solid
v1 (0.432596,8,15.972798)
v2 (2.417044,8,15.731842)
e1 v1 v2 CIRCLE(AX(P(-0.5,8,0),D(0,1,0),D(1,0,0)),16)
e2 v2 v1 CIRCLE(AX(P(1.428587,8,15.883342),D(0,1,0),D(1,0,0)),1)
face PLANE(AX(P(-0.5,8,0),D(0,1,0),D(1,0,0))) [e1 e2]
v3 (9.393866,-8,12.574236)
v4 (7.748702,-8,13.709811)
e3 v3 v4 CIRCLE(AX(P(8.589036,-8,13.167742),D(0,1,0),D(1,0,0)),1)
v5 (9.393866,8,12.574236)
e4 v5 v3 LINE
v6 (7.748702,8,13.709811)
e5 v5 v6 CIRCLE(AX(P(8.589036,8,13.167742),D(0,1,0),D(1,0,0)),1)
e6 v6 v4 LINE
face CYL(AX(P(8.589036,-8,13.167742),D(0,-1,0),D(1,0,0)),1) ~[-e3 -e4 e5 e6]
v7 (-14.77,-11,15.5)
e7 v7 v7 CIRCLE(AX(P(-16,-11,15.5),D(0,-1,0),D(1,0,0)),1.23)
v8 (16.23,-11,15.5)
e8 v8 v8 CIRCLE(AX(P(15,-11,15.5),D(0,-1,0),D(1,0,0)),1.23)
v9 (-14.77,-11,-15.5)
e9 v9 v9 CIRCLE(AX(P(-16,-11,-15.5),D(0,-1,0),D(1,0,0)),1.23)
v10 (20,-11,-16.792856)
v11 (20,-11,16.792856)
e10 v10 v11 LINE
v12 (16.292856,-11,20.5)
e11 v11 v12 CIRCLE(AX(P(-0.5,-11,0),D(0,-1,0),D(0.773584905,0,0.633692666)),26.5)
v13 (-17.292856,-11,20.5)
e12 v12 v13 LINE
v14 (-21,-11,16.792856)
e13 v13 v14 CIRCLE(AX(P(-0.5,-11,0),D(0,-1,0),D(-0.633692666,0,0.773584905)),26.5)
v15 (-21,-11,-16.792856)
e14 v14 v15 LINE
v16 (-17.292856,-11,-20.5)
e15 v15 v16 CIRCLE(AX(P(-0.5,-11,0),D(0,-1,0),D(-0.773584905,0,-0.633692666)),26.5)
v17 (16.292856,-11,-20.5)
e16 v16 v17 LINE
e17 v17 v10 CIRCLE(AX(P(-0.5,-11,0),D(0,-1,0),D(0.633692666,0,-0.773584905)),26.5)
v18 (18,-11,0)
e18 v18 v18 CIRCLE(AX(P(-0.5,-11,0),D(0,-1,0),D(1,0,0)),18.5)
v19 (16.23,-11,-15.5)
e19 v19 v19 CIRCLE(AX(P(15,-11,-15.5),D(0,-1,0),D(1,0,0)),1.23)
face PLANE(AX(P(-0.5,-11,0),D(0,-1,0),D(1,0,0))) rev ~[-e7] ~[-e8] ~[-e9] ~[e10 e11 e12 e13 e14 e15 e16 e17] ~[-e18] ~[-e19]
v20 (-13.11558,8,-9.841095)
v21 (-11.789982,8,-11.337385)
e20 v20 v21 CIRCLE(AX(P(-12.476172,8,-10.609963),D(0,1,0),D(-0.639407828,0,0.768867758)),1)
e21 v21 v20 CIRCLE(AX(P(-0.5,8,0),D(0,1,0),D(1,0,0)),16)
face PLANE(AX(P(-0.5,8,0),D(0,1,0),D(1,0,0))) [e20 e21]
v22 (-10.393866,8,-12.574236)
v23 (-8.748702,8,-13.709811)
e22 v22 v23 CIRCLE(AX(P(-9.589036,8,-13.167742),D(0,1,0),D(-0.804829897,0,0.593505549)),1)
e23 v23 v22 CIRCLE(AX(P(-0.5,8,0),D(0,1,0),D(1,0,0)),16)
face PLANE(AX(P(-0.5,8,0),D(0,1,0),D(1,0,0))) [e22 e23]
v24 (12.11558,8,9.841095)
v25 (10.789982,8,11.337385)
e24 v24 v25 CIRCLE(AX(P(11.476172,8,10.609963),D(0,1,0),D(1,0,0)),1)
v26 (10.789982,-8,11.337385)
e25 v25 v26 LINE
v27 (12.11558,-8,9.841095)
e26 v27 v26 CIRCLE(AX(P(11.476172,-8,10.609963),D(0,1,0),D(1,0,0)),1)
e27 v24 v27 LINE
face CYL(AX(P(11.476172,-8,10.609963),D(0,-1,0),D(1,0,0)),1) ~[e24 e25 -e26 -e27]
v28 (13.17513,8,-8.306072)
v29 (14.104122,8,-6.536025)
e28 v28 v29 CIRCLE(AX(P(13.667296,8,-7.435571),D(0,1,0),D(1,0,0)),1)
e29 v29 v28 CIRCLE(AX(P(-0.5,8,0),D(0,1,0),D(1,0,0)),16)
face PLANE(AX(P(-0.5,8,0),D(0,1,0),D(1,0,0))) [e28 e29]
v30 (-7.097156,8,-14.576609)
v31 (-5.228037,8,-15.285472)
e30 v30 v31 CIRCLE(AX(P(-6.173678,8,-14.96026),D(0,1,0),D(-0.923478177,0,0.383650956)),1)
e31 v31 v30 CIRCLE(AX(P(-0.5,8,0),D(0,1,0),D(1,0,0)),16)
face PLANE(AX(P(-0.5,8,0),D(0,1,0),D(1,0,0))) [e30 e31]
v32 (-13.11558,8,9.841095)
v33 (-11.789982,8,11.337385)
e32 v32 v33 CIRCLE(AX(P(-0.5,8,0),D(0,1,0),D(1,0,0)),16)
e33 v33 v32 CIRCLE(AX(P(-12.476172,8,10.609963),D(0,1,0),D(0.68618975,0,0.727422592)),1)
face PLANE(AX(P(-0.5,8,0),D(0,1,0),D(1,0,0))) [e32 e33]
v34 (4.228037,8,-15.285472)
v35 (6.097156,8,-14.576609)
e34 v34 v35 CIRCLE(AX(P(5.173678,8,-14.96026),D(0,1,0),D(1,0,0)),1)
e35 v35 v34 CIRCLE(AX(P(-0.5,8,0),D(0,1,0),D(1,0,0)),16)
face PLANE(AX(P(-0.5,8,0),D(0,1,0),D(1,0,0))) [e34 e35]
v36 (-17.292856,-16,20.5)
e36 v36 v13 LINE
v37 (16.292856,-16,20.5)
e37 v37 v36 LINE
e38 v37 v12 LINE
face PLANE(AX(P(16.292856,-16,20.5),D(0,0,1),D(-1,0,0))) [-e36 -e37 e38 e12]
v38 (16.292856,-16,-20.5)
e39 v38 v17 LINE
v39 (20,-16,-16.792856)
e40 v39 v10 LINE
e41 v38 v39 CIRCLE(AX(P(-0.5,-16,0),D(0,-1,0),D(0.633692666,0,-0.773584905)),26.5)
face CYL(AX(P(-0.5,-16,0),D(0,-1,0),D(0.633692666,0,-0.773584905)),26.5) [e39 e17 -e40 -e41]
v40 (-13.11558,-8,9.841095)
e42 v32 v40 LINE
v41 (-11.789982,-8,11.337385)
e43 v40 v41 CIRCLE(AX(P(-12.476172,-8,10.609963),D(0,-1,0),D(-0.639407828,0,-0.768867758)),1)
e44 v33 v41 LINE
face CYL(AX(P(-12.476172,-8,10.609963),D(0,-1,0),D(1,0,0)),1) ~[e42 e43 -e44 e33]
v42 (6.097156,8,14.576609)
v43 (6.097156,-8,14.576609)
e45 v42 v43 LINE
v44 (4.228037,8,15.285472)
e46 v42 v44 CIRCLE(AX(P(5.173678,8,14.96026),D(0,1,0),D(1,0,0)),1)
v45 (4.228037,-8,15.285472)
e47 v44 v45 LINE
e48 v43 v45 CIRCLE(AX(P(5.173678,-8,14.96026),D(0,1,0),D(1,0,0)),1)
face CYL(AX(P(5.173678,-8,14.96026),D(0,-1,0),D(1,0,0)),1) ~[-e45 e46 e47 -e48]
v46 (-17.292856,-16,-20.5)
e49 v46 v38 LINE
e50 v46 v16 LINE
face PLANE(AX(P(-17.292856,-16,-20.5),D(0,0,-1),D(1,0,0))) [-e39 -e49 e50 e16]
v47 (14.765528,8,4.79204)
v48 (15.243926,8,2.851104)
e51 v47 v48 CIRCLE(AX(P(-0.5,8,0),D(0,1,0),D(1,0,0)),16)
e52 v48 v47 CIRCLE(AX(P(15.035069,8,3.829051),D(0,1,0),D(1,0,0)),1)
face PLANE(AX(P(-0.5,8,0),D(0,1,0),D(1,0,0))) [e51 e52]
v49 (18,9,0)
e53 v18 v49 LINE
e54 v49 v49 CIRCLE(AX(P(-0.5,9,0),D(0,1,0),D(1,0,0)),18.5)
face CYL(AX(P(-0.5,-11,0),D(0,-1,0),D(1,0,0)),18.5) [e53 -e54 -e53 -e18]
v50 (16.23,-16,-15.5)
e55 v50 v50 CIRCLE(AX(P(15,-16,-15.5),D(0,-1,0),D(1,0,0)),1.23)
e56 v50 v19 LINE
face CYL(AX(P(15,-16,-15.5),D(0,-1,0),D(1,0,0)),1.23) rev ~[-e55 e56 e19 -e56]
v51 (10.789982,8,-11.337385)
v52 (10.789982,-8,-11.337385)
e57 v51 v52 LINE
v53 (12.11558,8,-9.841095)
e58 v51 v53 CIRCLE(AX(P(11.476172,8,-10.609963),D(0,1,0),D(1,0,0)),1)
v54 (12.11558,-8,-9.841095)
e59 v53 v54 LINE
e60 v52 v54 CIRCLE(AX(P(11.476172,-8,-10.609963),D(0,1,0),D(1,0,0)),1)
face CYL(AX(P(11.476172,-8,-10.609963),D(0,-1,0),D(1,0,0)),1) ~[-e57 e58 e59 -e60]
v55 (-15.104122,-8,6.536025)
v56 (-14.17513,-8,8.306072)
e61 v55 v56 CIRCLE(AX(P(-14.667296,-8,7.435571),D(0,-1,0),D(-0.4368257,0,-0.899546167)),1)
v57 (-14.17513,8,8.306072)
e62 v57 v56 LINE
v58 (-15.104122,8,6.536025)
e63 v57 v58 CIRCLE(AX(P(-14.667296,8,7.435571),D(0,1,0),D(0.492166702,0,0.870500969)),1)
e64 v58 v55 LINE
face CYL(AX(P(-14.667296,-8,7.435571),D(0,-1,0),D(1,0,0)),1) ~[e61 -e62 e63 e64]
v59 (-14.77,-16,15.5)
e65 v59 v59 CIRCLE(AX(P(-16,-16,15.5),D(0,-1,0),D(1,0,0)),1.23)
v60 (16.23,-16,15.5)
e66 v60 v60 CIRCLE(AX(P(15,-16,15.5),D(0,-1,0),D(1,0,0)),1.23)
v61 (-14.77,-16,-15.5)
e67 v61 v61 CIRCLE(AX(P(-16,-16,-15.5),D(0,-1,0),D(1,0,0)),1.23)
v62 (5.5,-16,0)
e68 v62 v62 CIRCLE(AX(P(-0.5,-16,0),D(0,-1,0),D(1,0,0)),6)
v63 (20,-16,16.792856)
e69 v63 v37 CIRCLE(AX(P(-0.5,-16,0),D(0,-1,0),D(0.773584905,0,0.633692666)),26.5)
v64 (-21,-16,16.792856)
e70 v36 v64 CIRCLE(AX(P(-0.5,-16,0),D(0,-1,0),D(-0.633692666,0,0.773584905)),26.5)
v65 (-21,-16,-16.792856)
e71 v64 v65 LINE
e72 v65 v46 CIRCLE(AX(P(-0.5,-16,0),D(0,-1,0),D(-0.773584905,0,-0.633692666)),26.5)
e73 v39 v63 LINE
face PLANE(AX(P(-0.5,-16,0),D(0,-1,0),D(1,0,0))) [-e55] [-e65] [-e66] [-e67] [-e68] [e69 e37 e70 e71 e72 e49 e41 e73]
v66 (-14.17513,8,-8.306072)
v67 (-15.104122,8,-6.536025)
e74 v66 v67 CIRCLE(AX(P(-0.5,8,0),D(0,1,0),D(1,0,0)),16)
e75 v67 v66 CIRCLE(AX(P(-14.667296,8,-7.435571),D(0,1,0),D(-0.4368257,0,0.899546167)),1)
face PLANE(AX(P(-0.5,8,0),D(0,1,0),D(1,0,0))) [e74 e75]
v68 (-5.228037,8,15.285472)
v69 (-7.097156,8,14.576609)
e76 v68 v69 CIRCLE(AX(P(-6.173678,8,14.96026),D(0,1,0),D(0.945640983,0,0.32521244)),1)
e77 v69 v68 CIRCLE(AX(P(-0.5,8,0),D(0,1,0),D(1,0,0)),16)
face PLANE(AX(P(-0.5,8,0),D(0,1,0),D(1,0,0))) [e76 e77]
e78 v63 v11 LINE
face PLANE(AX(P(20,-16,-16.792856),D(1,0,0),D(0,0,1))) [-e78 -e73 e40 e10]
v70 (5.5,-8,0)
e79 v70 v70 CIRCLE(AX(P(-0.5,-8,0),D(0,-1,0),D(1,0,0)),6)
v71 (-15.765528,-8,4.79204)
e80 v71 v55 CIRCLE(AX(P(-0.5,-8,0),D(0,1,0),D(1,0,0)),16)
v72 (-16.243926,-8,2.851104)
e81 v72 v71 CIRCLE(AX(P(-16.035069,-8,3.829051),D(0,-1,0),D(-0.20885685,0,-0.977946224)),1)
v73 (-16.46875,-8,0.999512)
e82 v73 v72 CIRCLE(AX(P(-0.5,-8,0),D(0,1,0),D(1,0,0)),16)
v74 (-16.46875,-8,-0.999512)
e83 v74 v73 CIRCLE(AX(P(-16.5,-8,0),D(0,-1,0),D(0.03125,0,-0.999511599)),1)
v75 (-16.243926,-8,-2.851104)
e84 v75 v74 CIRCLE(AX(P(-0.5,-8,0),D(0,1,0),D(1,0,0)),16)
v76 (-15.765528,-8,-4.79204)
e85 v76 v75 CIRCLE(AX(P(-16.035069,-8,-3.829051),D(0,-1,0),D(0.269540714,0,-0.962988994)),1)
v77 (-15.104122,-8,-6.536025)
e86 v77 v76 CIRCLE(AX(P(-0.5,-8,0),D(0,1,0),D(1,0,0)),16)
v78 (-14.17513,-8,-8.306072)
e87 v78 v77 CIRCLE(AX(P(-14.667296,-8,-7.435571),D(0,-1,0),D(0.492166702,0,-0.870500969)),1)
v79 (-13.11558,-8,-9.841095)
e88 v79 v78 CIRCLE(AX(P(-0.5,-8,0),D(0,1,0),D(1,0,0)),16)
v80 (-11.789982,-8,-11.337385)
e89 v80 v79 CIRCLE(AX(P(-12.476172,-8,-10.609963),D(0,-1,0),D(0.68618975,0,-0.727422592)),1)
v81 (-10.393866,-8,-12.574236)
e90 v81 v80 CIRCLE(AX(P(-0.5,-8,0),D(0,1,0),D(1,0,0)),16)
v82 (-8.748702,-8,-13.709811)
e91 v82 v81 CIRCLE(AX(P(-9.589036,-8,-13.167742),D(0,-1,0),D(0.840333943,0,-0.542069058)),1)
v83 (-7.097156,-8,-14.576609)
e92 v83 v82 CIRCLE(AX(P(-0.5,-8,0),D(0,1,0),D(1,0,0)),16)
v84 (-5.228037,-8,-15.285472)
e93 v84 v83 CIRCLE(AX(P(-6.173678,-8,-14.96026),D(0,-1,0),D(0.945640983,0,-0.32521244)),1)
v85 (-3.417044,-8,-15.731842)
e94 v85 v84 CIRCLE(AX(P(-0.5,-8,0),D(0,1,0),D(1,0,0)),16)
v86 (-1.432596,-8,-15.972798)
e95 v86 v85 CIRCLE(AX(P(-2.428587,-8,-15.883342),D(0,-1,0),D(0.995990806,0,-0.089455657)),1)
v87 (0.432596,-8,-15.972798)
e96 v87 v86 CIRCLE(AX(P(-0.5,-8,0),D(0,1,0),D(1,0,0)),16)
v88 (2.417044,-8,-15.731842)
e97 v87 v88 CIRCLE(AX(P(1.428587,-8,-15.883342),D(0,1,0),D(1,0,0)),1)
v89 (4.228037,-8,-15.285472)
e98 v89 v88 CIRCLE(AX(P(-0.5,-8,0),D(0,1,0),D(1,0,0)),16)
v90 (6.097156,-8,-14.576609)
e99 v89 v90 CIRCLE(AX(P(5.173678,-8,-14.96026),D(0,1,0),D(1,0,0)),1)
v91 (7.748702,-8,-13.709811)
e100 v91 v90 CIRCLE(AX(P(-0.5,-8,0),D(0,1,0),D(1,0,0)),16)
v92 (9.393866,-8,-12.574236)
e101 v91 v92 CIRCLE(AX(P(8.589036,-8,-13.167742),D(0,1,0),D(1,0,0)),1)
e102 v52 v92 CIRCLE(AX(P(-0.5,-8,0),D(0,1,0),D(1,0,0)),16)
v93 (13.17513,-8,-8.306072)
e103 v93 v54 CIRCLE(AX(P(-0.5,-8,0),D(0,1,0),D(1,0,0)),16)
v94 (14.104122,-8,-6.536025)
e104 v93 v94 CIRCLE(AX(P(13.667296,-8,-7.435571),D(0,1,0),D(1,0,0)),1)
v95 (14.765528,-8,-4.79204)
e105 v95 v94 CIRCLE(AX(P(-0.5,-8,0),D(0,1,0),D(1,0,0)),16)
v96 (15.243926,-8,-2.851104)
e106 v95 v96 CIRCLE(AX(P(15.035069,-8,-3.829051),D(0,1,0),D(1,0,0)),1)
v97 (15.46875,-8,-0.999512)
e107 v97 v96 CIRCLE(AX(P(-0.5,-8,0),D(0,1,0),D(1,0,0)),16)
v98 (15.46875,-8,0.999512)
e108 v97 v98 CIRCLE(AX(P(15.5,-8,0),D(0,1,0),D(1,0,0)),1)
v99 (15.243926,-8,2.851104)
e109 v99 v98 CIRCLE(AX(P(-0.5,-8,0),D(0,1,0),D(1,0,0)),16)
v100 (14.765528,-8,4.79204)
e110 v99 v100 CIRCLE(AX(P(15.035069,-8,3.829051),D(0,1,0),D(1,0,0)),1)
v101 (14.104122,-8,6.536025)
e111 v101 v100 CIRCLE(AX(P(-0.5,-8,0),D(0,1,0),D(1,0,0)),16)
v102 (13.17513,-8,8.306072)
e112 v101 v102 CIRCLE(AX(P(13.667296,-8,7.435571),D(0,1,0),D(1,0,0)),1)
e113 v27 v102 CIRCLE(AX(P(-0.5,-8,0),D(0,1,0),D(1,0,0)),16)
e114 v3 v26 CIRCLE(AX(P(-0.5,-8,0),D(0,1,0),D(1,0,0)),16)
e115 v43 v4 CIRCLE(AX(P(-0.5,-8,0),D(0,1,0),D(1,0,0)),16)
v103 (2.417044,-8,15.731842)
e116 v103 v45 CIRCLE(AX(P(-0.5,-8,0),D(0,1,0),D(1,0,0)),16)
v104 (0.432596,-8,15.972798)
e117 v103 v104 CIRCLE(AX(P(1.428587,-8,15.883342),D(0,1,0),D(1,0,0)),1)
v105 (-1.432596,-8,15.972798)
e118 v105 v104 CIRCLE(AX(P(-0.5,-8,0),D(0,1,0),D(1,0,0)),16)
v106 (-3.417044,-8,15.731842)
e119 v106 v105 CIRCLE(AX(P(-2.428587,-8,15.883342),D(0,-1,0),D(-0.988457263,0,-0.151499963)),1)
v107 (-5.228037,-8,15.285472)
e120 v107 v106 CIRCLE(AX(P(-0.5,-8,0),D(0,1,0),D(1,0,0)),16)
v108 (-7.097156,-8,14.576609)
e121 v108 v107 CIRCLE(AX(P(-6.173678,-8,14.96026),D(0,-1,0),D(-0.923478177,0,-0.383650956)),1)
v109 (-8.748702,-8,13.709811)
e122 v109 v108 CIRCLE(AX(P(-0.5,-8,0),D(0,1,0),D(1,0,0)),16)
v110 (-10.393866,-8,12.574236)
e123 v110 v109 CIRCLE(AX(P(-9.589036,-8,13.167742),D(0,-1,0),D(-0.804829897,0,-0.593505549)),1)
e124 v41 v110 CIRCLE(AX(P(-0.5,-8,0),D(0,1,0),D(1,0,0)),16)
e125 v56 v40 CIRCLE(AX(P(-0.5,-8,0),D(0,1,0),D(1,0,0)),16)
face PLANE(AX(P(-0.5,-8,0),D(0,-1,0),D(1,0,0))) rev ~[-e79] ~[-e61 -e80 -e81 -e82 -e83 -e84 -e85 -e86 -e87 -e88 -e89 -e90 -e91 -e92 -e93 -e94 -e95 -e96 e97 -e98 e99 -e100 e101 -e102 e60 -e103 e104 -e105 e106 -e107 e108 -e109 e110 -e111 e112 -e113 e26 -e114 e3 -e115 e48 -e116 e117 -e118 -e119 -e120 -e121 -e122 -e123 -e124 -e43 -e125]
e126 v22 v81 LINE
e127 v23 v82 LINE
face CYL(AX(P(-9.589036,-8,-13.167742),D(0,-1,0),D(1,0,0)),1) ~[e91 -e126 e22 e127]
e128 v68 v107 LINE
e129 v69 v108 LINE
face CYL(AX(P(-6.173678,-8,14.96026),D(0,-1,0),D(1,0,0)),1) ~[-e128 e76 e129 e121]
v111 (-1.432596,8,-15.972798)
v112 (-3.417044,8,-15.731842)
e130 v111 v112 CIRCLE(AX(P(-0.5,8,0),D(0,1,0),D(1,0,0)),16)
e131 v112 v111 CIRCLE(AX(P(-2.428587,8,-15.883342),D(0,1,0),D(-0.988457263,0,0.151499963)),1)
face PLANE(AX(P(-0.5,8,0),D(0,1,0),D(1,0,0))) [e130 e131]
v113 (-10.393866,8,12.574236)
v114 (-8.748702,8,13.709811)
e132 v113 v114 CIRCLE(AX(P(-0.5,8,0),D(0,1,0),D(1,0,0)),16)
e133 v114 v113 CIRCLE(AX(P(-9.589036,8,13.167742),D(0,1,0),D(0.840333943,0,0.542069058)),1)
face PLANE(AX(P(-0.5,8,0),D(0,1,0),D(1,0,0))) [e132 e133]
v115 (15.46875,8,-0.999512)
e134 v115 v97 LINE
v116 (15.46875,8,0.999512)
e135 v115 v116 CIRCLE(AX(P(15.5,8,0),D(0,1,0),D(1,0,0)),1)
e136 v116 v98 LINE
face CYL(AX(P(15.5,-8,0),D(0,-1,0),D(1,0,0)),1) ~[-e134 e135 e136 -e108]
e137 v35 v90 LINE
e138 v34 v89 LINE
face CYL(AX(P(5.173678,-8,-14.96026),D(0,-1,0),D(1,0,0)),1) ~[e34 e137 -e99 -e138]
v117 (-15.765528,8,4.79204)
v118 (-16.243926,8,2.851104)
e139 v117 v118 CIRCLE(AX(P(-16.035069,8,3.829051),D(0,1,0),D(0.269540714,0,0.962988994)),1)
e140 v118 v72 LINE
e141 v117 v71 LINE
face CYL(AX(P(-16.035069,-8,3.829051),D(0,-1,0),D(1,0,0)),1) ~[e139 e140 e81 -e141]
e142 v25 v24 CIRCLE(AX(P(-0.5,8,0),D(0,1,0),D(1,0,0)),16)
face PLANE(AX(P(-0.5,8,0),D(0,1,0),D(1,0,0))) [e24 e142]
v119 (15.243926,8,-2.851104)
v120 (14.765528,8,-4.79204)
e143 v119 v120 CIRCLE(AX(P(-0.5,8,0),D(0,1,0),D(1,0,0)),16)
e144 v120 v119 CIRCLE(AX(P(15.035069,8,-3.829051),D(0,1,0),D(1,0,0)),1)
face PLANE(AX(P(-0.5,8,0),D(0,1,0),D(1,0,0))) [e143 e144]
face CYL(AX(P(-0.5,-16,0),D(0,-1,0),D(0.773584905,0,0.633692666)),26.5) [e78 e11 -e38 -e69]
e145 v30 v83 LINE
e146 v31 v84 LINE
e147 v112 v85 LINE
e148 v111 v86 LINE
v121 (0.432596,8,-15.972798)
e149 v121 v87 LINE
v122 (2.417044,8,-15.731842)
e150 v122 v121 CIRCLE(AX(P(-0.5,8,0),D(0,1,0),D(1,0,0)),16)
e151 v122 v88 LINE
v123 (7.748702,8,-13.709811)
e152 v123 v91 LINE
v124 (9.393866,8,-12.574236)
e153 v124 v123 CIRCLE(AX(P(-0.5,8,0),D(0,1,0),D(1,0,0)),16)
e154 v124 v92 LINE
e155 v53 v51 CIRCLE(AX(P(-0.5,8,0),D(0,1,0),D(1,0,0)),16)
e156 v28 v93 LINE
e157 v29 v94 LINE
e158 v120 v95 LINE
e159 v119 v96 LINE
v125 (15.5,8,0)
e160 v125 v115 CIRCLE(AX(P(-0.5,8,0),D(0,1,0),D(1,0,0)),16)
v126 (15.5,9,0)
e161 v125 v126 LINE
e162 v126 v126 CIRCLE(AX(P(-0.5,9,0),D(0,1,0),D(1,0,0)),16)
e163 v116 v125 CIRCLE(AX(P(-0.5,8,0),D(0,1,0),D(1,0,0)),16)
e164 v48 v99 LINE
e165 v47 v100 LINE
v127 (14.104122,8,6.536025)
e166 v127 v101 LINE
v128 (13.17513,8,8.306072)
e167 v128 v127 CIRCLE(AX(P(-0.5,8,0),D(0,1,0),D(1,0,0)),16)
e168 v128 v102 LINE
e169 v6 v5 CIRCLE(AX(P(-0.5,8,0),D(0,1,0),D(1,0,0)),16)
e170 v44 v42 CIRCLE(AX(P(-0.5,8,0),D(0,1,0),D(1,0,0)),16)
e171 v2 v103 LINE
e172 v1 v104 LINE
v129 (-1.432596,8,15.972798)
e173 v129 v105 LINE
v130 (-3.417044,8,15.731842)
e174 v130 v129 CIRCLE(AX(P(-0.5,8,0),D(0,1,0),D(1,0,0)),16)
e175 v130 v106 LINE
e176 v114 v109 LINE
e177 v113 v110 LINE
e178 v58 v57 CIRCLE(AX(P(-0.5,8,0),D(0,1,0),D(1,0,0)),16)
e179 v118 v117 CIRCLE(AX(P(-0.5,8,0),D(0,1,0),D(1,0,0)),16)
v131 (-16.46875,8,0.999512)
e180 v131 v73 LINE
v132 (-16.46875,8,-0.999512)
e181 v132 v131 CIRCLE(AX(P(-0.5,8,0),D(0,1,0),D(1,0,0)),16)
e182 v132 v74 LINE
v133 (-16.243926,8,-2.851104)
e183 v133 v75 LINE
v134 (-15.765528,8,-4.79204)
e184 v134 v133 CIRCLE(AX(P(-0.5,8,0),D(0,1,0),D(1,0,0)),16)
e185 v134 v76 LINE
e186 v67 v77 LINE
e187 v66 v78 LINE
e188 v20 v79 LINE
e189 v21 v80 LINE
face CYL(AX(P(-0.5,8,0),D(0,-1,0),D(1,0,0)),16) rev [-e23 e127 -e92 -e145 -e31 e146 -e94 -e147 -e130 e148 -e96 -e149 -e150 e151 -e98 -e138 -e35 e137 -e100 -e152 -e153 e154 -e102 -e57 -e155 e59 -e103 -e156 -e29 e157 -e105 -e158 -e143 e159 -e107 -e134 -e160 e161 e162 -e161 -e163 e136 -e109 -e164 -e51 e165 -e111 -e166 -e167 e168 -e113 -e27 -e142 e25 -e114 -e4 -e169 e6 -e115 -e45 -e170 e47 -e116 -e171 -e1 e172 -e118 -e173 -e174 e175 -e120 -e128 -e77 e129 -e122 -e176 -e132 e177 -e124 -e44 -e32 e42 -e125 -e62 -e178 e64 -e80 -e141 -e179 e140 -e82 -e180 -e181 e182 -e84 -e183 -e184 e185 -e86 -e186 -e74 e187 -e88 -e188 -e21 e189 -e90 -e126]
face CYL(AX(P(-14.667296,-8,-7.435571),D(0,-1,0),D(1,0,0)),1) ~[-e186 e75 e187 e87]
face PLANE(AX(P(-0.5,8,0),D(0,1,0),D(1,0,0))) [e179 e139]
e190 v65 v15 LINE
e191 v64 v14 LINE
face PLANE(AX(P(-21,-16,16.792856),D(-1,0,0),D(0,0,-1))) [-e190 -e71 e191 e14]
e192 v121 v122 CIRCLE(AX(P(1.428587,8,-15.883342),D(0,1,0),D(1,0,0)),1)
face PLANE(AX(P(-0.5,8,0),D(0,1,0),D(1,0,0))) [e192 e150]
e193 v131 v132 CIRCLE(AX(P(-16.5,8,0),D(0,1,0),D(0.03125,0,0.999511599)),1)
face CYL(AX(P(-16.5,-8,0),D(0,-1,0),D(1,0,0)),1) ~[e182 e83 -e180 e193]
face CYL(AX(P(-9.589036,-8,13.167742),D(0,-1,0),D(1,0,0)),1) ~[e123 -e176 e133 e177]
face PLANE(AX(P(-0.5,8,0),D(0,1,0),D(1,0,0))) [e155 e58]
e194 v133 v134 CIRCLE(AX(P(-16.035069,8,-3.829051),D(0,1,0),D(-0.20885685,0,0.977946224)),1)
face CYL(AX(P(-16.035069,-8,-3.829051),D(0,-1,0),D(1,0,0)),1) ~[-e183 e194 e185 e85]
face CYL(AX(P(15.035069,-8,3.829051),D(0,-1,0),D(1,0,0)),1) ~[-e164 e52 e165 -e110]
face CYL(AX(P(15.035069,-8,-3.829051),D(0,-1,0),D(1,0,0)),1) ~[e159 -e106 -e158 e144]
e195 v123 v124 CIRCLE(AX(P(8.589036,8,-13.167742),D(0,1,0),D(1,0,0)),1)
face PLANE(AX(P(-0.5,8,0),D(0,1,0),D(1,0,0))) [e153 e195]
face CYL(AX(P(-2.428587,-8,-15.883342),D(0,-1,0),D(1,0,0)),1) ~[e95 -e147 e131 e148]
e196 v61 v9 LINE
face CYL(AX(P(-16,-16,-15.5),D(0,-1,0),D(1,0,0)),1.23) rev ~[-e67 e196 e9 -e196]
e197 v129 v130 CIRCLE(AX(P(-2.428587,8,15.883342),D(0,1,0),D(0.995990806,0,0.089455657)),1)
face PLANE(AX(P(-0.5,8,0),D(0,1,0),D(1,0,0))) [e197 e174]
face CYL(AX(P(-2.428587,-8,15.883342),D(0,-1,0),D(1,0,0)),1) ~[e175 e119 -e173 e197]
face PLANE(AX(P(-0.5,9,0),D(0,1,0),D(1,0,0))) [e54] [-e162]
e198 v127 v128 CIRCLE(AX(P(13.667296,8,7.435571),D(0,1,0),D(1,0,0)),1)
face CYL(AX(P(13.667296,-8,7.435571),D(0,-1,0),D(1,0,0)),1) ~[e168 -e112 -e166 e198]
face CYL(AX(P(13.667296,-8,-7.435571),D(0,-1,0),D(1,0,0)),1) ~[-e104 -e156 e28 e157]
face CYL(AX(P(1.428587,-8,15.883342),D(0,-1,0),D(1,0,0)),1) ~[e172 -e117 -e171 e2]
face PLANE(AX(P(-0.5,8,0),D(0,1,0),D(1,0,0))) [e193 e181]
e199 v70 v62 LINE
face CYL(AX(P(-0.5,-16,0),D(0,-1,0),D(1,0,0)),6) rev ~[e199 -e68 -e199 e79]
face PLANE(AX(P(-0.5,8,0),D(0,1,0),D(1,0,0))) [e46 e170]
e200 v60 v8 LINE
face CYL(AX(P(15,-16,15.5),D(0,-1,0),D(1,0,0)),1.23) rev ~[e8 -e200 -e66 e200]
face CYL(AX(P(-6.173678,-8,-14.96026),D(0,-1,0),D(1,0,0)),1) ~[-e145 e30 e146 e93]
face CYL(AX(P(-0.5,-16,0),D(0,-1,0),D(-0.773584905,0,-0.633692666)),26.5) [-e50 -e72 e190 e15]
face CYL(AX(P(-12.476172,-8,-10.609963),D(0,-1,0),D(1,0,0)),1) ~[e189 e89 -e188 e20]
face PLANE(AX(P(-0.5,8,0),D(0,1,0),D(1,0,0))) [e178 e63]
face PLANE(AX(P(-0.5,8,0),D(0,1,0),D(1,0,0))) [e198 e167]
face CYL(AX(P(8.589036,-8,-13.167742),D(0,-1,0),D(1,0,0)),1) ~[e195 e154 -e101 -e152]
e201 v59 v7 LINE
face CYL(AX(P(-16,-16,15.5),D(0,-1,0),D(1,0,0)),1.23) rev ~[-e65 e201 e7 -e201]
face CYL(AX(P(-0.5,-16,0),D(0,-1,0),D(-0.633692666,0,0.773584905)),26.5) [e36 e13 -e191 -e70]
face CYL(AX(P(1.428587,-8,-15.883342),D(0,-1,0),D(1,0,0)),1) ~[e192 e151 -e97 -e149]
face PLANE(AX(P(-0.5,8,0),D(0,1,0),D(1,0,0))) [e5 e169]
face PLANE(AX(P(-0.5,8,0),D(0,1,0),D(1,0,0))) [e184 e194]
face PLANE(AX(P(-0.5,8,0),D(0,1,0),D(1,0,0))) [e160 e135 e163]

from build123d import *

# Parameters (mm, degrees)
BOSS_EXTRUDE1_DEPTH         = 8
BOSS_EXTRUDE1_DEPTH_BACK    = 8
SKETCH2_R                   = 1
BOSS_EXTRUDE1_2_DEPTH       = 8
BOSS_EXTRUDE1_2_DEPTH_BACK  = 8
BOSS_EXTRUDE1_3_DEPTH       = 8
BOSS_EXTRUDE1_3_DEPTH_BACK  = 8
BOSS_EXTRUDE1_4_DEPTH       = 8
BOSS_EXTRUDE1_4_DEPTH_BACK  = 8
BOSS_EXTRUDE1_5_DEPTH       = 8
BOSS_EXTRUDE1_5_DEPTH_BACK  = 8
BOSS_EXTRUDE1_6_DEPTH       = 8
BOSS_EXTRUDE1_6_DEPTH_BACK  = 8
BOSS_EXTRUDE1_7_DEPTH       = 8
BOSS_EXTRUDE1_7_DEPTH_BACK  = 8
BOSS_EXTRUDE1_8_DEPTH       = 8
BOSS_EXTRUDE1_8_DEPTH_BACK  = 8
BOSS_EXTRUDE1_9_DEPTH       = 8
BOSS_EXTRUDE1_9_DEPTH_BACK  = 8
BOSS_EXTRUDE1_10_DEPTH      = 8
BOSS_EXTRUDE1_10_DEPTH_BACK = 8
BOSS_EXTRUDE1_11_DEPTH      = 8
BOSS_EXTRUDE1_11_DEPTH_BACK = 8
BOSS_EXTRUDE1_12_DEPTH      = 8
BOSS_EXTRUDE1_12_DEPTH_BACK = 8
BOSS_EXTRUDE1_13_DEPTH      = 8
BOSS_EXTRUDE1_13_DEPTH_BACK = 8
BOSS_EXTRUDE1_14_DEPTH      = 8
BOSS_EXTRUDE1_14_DEPTH_BACK = 8
BOSS_EXTRUDE1_15_DEPTH      = 8
BOSS_EXTRUDE1_15_DEPTH_BACK = 8
BOSS_EXTRUDE1_16_DEPTH      = 8
BOSS_EXTRUDE1_16_DEPTH_BACK = 8
BOSS_EXTRUDE1_17_DEPTH      = 8
BOSS_EXTRUDE1_17_DEPTH_BACK = 8
BOSS_EXTRUDE1_18_DEPTH      = 8
BOSS_EXTRUDE1_18_DEPTH_BACK = 8
BOSS_EXTRUDE1_19_DEPTH      = 8
BOSS_EXTRUDE1_19_DEPTH_BACK = 8
BOSS_EXTRUDE1_20_DEPTH      = 8
BOSS_EXTRUDE1_20_DEPTH_BACK = 8
BOSS_EXTRUDE1_21_DEPTH      = 8
BOSS_EXTRUDE1_21_DEPTH_BACK = 8
BOSS_EXTRUDE1_22_DEPTH      = 8
BOSS_EXTRUDE1_22_DEPTH_BACK = 8
BOSS_EXTRUDE1_23_DEPTH      = 8
BOSS_EXTRUDE1_23_DEPTH_BACK = 8
BOSS_EXTRUDE1_24_DEPTH      = 8
BOSS_EXTRUDE1_24_DEPTH_BACK = 8
BOSS_EXTRUDE1_25_DEPTH      = 8
BOSS_EXTRUDE1_25_DEPTH_BACK = 8
BOSS_EXTRUDE1_26_DEPTH      = 8
BOSS_EXTRUDE1_26_DEPTH_BACK = 8
BOSS_EXTRUDE3_DEPTH         = 8
BOSS_EXTRUDE3_DEPTH_BACK    = 8
SKETCH5_R                   = 18.5
SKETCH5_R_2                 = 16
SKETCH6_R                   = 18.5
SKETCH6_R_2                 = 16
BOSS_EXTRUDE4_DEPTH         = 1
BOSS_EXTRUDE5_START         = 3
SKETCH8_R                   = 18.5
BOSS_EXTRUDE5_DEPTH         = 3
SKETCH9_R                   = 6
CUT_EXTRUDE1_DEPTH          = 3
BOSS_EXTRUDE7_START         = 5
SKETCH13_R                  = 1.23
SKETCH13_R_2                = 6
BOSS_EXTRUDE7_DEPTH         = 5


with BuildPart() as part:
    # Sketch2 → Boss-Extrude1 (new, two sides: drawn at the far end of the back side and taken through both)
    with BuildSketch(Plane(origin=(0, 0, 0), x_dir=(1, 0, 0), z_dir=(0, 1, 0)).offset(-BOSS_EXTRUDE1_DEPTH_BACK)):
        with Locations((15.5, 0)):
            Circle(SKETCH2_R)
    extrude(amount=BOSS_EXTRUDE1_DEPTH + BOSS_EXTRUDE1_DEPTH_BACK)



with BuildPart() as body_2:
    # Sketch2 → Boss-Extrude1 2 (new, two sides: drawn at the far end of the back side and taken through both)
    with BuildSketch(Plane(origin=(0, 0, 0), x_dir=(1, 0, 0), z_dir=(0, 1, 0)).offset(-BOSS_EXTRUDE1_2_DEPTH_BACK)):
        with Locations((15.035069079, -3.829050629)):
            Circle(SKETCH2_R)
    extrude(amount=BOSS_EXTRUDE1_2_DEPTH + BOSS_EXTRUDE1_2_DEPTH_BACK)


with BuildPart() as body_3:
    # Sketch2 → Boss-Extrude1 3 (new, two sides: drawn at the far end of the back side and taken through both)
    with BuildSketch(Plane(origin=(0, 0, 0), x_dir=(1, 0, 0), z_dir=(0, 1, 0)).offset(-BOSS_EXTRUDE1_3_DEPTH_BACK)):
        with Locations((13.66729641, -7.435570753)):
            Circle(SKETCH2_R)
    extrude(amount=BOSS_EXTRUDE1_3_DEPTH + BOSS_EXTRUDE1_3_DEPTH_BACK)


with BuildPart() as body_4:
    # Sketch2 → Boss-Extrude1 4 (new, two sides: drawn at the far end of the back side and taken through both)
    with BuildSketch(Plane(origin=(0, 0, 0), x_dir=(1, 0, 0), z_dir=(0, 1, 0)).offset(-BOSS_EXTRUDE1_4_DEPTH_BACK)):
        with Locations((11.476171971, -10.609962532)):
            Circle(SKETCH2_R)
    extrude(amount=BOSS_EXTRUDE1_4_DEPTH + BOSS_EXTRUDE1_4_DEPTH_BACK)


with BuildPart() as body_5:
    # Sketch2 → Boss-Extrude1 5 (new, two sides: drawn at the far end of the back side and taken through both)
    with BuildSketch(Plane(origin=(0, 0, 0), x_dir=(1, 0, 0), z_dir=(0, 1, 0)).offset(-BOSS_EXTRUDE1_5_DEPTH_BACK)):
        with Locations((8.589035948, -13.167741854)):
            Circle(SKETCH2_R)
    extrude(amount=BOSS_EXTRUDE1_5_DEPTH + BOSS_EXTRUDE1_5_DEPTH_BACK)


with BuildPart() as body_6:
    # Sketch2 → Boss-Extrude1 6 (new, two sides: drawn at the far end of the back side and taken through both)
    with BuildSketch(Plane(origin=(0, 0, 0), x_dir=(1, 0, 0), z_dir=(0, 1, 0)).offset(-BOSS_EXTRUDE1_6_DEPTH_BACK)):
        with Locations((5.173678193, -14.960259883)):
            Circle(SKETCH2_R)
    extrude(amount=BOSS_EXTRUDE1_6_DEPTH + BOSS_EXTRUDE1_6_DEPTH_BACK)


with BuildPart() as body_7:
    # Sketch2 → Boss-Extrude1 7 (new, two sides: drawn at the far end of the back side and taken through both)
    with BuildSketch(Plane(origin=(0, 0, 0), x_dir=(1, 0, 0), z_dir=(0, 1, 0)).offset(-BOSS_EXTRUDE1_7_DEPTH_BACK)):
        with Locations((1.428586884, -15.883341986)):
            Circle(SKETCH2_R)
    extrude(amount=BOSS_EXTRUDE1_7_DEPTH + BOSS_EXTRUDE1_7_DEPTH_BACK)


with BuildPart() as body_8:
    # Sketch2 → Boss-Extrude1 8 (new, two sides: drawn at the far end of the back side and taken through both)
    with BuildSketch(Plane(origin=(0, 0, 0), x_dir=(1, 0, 0), z_dir=(0, 1, 0)).offset(-BOSS_EXTRUDE1_8_DEPTH_BACK)):
        with Locations((-2.428586884, -15.883341986)):
            Circle(SKETCH2_R)
    extrude(amount=BOSS_EXTRUDE1_8_DEPTH + BOSS_EXTRUDE1_8_DEPTH_BACK)


with BuildPart() as body_9:
    # Sketch2 → Boss-Extrude1 9 (new, two sides: drawn at the far end of the back side and taken through both)
    with BuildSketch(Plane(origin=(0, 0, 0), x_dir=(1, 0, 0), z_dir=(0, 1, 0)).offset(-BOSS_EXTRUDE1_9_DEPTH_BACK)):
        with Locations((-6.173678193, -14.960259883)):
            Circle(SKETCH2_R)
    extrude(amount=BOSS_EXTRUDE1_9_DEPTH + BOSS_EXTRUDE1_9_DEPTH_BACK)


with BuildPart() as body_10:
    # Sketch2 → Boss-Extrude1 10 (new, two sides: drawn at the far end of the back side and taken through both)
    with BuildSketch(Plane(origin=(0, 0, 0), x_dir=(1, 0, 0), z_dir=(0, 1, 0)).offset(-BOSS_EXTRUDE1_10_DEPTH_BACK)):
        with Locations((-9.589035948, -13.167741854)):
            Circle(SKETCH2_R)
    extrude(amount=BOSS_EXTRUDE1_10_DEPTH + BOSS_EXTRUDE1_10_DEPTH_BACK)


with BuildPart() as body_11:
    # Sketch2 → Boss-Extrude1 11 (new, two sides: drawn at the far end of the back side and taken through both)
    with BuildSketch(Plane(origin=(0, 0, 0), x_dir=(1, 0, 0), z_dir=(0, 1, 0)).offset(-BOSS_EXTRUDE1_11_DEPTH_BACK)):
        with Locations((-12.476171971, -10.609962532)):
            Circle(SKETCH2_R)
    extrude(amount=BOSS_EXTRUDE1_11_DEPTH + BOSS_EXTRUDE1_11_DEPTH_BACK)


with BuildPart() as body_12:
    # Sketch2 → Boss-Extrude1 12 (new, two sides: drawn at the far end of the back side and taken through both)
    with BuildSketch(Plane(origin=(0, 0, 0), x_dir=(1, 0, 0), z_dir=(0, 1, 0)).offset(-BOSS_EXTRUDE1_12_DEPTH_BACK)):
        with Locations((-14.66729641, -7.435570753)):
            Circle(SKETCH2_R)
    extrude(amount=BOSS_EXTRUDE1_12_DEPTH + BOSS_EXTRUDE1_12_DEPTH_BACK)


with BuildPart() as body_13:
    # Sketch2 → Boss-Extrude1 13 (new, two sides: drawn at the far end of the back side and taken through both)
    with BuildSketch(Plane(origin=(0, 0, 0), x_dir=(1, 0, 0), z_dir=(0, 1, 0)).offset(-BOSS_EXTRUDE1_13_DEPTH_BACK)):
        with Locations((-16.035069079, -3.829050629)):
            Circle(SKETCH2_R)
    extrude(amount=BOSS_EXTRUDE1_13_DEPTH + BOSS_EXTRUDE1_13_DEPTH_BACK)


with BuildPart() as body_14:
    # Sketch2 → Boss-Extrude1 14 (new, two sides: drawn at the far end of the back side and taken through both)
    with BuildSketch(Plane(origin=(0, 0, 0), x_dir=(1, 0, 0), z_dir=(0, 1, 0)).offset(-BOSS_EXTRUDE1_14_DEPTH_BACK)):
        with Locations((-16.5, 0)):
            Circle(SKETCH2_R)
    extrude(amount=BOSS_EXTRUDE1_14_DEPTH + BOSS_EXTRUDE1_14_DEPTH_BACK)


with BuildPart() as body_15:
    # Sketch2 → Boss-Extrude1 15 (new, two sides: drawn at the far end of the back side and taken through both)
    with BuildSketch(Plane(origin=(0, 0, 0), x_dir=(1, 0, 0), z_dir=(0, 1, 0)).offset(-BOSS_EXTRUDE1_15_DEPTH_BACK)):
        with Locations((-16.035069079, 3.829050629)):
            Circle(SKETCH2_R)
    extrude(amount=BOSS_EXTRUDE1_15_DEPTH + BOSS_EXTRUDE1_15_DEPTH_BACK)


with BuildPart() as body_16:
    # Sketch2 → Boss-Extrude1 16 (new, two sides: drawn at the far end of the back side and taken through both)
    with BuildSketch(Plane(origin=(0, 0, 0), x_dir=(1, 0, 0), z_dir=(0, 1, 0)).offset(-BOSS_EXTRUDE1_16_DEPTH_BACK)):
        with Locations((-14.66729641, 7.435570753)):
            Circle(SKETCH2_R)
    extrude(amount=BOSS_EXTRUDE1_16_DEPTH + BOSS_EXTRUDE1_16_DEPTH_BACK)


with BuildPart() as body_17:
    # Sketch2 → Boss-Extrude1 17 (new, two sides: drawn at the far end of the back side and taken through both)
    with BuildSketch(Plane(origin=(0, 0, 0), x_dir=(1, 0, 0), z_dir=(0, 1, 0)).offset(-BOSS_EXTRUDE1_17_DEPTH_BACK)):
        with Locations((-12.476171971, 10.609962532)):
            Circle(SKETCH2_R)
    extrude(amount=BOSS_EXTRUDE1_17_DEPTH + BOSS_EXTRUDE1_17_DEPTH_BACK)


with BuildPart() as body_18:
    # Sketch2 → Boss-Extrude1 18 (new, two sides: drawn at the far end of the back side and taken through both)
    with BuildSketch(Plane(origin=(0, 0, 0), x_dir=(1, 0, 0), z_dir=(0, 1, 0)).offset(-BOSS_EXTRUDE1_18_DEPTH_BACK)):
        with Locations((-9.589035948, 13.167741854)):
            Circle(SKETCH2_R)
    extrude(amount=BOSS_EXTRUDE1_18_DEPTH + BOSS_EXTRUDE1_18_DEPTH_BACK)


with BuildPart() as body_19:
    # Sketch2 → Boss-Extrude1 19 (new, two sides: drawn at the far end of the back side and taken through both)
    with BuildSketch(Plane(origin=(0, 0, 0), x_dir=(1, 0, 0), z_dir=(0, 1, 0)).offset(-BOSS_EXTRUDE1_19_DEPTH_BACK)):
        with Locations((-6.173678193, 14.960259883)):
            Circle(SKETCH2_R)
    extrude(amount=BOSS_EXTRUDE1_19_DEPTH + BOSS_EXTRUDE1_19_DEPTH_BACK)


with BuildPart() as body_20:
    # Sketch2 → Boss-Extrude1 20 (new, two sides: drawn at the far end of the back side and taken through both)
    with BuildSketch(Plane(origin=(0, 0, 0), x_dir=(1, 0, 0), z_dir=(0, 1, 0)).offset(-BOSS_EXTRUDE1_20_DEPTH_BACK)):
        with Locations((-2.428586884, 15.883341986)):
            Circle(SKETCH2_R)
    extrude(amount=BOSS_EXTRUDE1_20_DEPTH + BOSS_EXTRUDE1_20_DEPTH_BACK)


with BuildPart() as body_21:
    # Sketch2 → Boss-Extrude1 21 (new, two sides: drawn at the far end of the back side and taken through both)
    with BuildSketch(Plane(origin=(0, 0, 0), x_dir=(1, 0, 0), z_dir=(0, 1, 0)).offset(-BOSS_EXTRUDE1_21_DEPTH_BACK)):
        with Locations((1.428586884, 15.883341986)):
            Circle(SKETCH2_R)
    extrude(amount=BOSS_EXTRUDE1_21_DEPTH + BOSS_EXTRUDE1_21_DEPTH_BACK)


with BuildPart() as body_22:
    # Sketch2 → Boss-Extrude1 22 (new, two sides: drawn at the far end of the back side and taken through both)
    with BuildSketch(Plane(origin=(0, 0, 0), x_dir=(1, 0, 0), z_dir=(0, 1, 0)).offset(-BOSS_EXTRUDE1_22_DEPTH_BACK)):
        with Locations((5.173678193, 14.960259883)):
            Circle(SKETCH2_R)
    extrude(amount=BOSS_EXTRUDE1_22_DEPTH + BOSS_EXTRUDE1_22_DEPTH_BACK)


with BuildPart() as body_23:
    # Sketch2 → Boss-Extrude1 23 (new, two sides: drawn at the far end of the back side and taken through both)
    with BuildSketch(Plane(origin=(0, 0, 0), x_dir=(1, 0, 0), z_dir=(0, 1, 0)).offset(-BOSS_EXTRUDE1_23_DEPTH_BACK)):
        with Locations((8.589035948, 13.167741854)):
            Circle(SKETCH2_R)
    extrude(amount=BOSS_EXTRUDE1_23_DEPTH + BOSS_EXTRUDE1_23_DEPTH_BACK)


with BuildPart() as body_24:
    # Sketch2 → Boss-Extrude1 24 (new, two sides: drawn at the far end of the back side and taken through both)
    with BuildSketch(Plane(origin=(0, 0, 0), x_dir=(1, 0, 0), z_dir=(0, 1, 0)).offset(-BOSS_EXTRUDE1_24_DEPTH_BACK)):
        with Locations((11.476171971, 10.609962532)):
            Circle(SKETCH2_R)
    extrude(amount=BOSS_EXTRUDE1_24_DEPTH + BOSS_EXTRUDE1_24_DEPTH_BACK)


with BuildPart() as body_25:
    # Sketch2 → Boss-Extrude1 25 (new, two sides: drawn at the far end of the back side and taken through both)
    with BuildSketch(Plane(origin=(0, 0, 0), x_dir=(1, 0, 0), z_dir=(0, 1, 0)).offset(-BOSS_EXTRUDE1_25_DEPTH_BACK)):
        with Locations((13.66729641, 7.435570753)):
            Circle(SKETCH2_R)
    extrude(amount=BOSS_EXTRUDE1_25_DEPTH + BOSS_EXTRUDE1_25_DEPTH_BACK)


with BuildPart() as body_26:
    # Sketch2 → Boss-Extrude1 26 (new, two sides: drawn at the far end of the back side and taken through both)
    with BuildSketch(Plane(origin=(0, 0, 0), x_dir=(1, 0, 0), z_dir=(0, 1, 0)).offset(-BOSS_EXTRUDE1_26_DEPTH_BACK)):
        with Locations((15.035069079, 3.829050629)):
            Circle(SKETCH2_R)
    extrude(amount=BOSS_EXTRUDE1_26_DEPTH + BOSS_EXTRUDE1_26_DEPTH_BACK)


with BuildPart() as part_1:
    add(part.part)

    add(body_2.part)  # Boss-Extrude3 merges body 2

    add(body_3.part)  # Boss-Extrude3 merges body 3

    add(body_4.part)  # Boss-Extrude3 merges body 4

    add(body_5.part)  # Boss-Extrude3 merges body 5

    add(body_6.part)  # Boss-Extrude3 merges body 6

    add(body_7.part)  # Boss-Extrude3 merges body 7

    add(body_8.part)  # Boss-Extrude3 merges body 8

    add(body_9.part)  # Boss-Extrude3 merges body 9

    add(body_10.part)  # Boss-Extrude3 merges body 10

    add(body_11.part)  # Boss-Extrude3 merges body 11

    add(body_12.part)  # Boss-Extrude3 merges body 12

    add(body_13.part)  # Boss-Extrude3 merges body 13

    add(body_14.part)  # Boss-Extrude3 merges body 14

    add(body_15.part)  # Boss-Extrude3 merges body 15

    add(body_16.part)  # Boss-Extrude3 merges body 16

    add(body_17.part)  # Boss-Extrude3 merges body 17

    add(body_18.part)  # Boss-Extrude3 merges body 18

    add(body_19.part)  # Boss-Extrude3 merges body 19

    add(body_20.part)  # Boss-Extrude3 merges body 20

    add(body_21.part)  # Boss-Extrude3 merges body 21

    add(body_22.part)  # Boss-Extrude3 merges body 22

    add(body_23.part)  # Boss-Extrude3 merges body 23

    add(body_24.part)  # Boss-Extrude3 merges body 24

    add(body_25.part)  # Boss-Extrude3 merges body 25

    add(body_26.part)  # Boss-Extrude3 merges body 26
    # Sketch5 → Boss-Extrude3 (add, two sides: drawn at the far end of the back side and taken through both)
    with BuildSketch(Plane(origin=(0, 0, 0), x_dir=(1, 0, 0), z_dir=(0, 1, 0)).offset(-BOSS_EXTRUDE3_DEPTH_BACK)):
        with Locations((-0.5, 0)):
            Circle(SKETCH5_R)
        with Locations((-0.5, 0)):
            Circle(SKETCH5_R_2, mode=Mode.SUBTRACT)
    extrude(amount=BOSS_EXTRUDE3_DEPTH + BOSS_EXTRUDE3_DEPTH_BACK)

    # Sketch6 → Boss-Extrude4 (add)
    with BuildSketch(Plane(origin=(0, 8, 0), x_dir=(1, 0, 0), z_dir=(0, 1, 0))):
        with Locations((-0.5, 0)):
            Circle(SKETCH6_R)
        with Locations((-0.5, 0)):
            Circle(SKETCH6_R_2, mode=Mode.SUBTRACT)
    extrude(amount=BOSS_EXTRUDE4_DEPTH)

    # Sketch8 → Boss-Extrude5 (add)
    with BuildSketch(Plane.XZ.offset(8).offset(BOSS_EXTRUDE5_START)):
        with Locations((-0.5, 0)):
            Circle(SKETCH8_R)
    extrude(amount=-BOSS_EXTRUDE5_DEPTH)

    # Sketch9 → Cut-Extrude1 (cut)
    with BuildSketch(Plane.XZ.offset(11)):
        with Locations((-0.5, 0)):
            Circle(SKETCH9_R)
    extrude(amount=-CUT_EXTRUDE1_DEPTH, mode=Mode.SUBTRACT)

    # Sketch13 → Boss-Extrude7 (add)
    with BuildSketch(Plane.XZ.offset(11).offset(BOSS_EXTRUDE7_START)):
        with BuildLine():
            Line((-17.292855624, -20.5), (16.292855624, -20.5))
            ThreePointArc((16.292855624, -20.5), (18.238329701, -18.738329701), (20, -16.792855624))
            Line((20, -16.792855624), (20, 16.792855624))
            ThreePointArc((20, 16.792855624), (18.238329701, 18.738329701), (16.292855624, 20.5))
            Line((16.292855624, 20.5), (-17.292855624, 20.5))
            ThreePointArc((-17.292855624, 20.5), (-19.238329701, 18.738329701), (-21, 16.792855624))
            Line((-21, 16.792855624), (-21, -16.792855624))
            ThreePointArc((-21, -16.792855624), (-19.238329701, -18.738329701), (-17.292855624, -20.5))
        make_face()
        with Locations((-16, -15.5)):
            Circle(SKETCH13_R, mode=Mode.SUBTRACT)
        with Locations((15, -15.5)):
            Circle(SKETCH13_R, mode=Mode.SUBTRACT)
        with Locations((15, 15.5)):
            Circle(SKETCH13_R, mode=Mode.SUBTRACT)
        with Locations((-16, 15.5)):
            Circle(SKETCH13_R, mode=Mode.SUBTRACT)
        with Locations((-0.5, 0)):
            Circle(SKETCH13_R_2, mode=Mode.SUBTRACT)
    extrude(amount=-BOSS_EXTRUDE7_DEPTH)


solid = part_1.part
